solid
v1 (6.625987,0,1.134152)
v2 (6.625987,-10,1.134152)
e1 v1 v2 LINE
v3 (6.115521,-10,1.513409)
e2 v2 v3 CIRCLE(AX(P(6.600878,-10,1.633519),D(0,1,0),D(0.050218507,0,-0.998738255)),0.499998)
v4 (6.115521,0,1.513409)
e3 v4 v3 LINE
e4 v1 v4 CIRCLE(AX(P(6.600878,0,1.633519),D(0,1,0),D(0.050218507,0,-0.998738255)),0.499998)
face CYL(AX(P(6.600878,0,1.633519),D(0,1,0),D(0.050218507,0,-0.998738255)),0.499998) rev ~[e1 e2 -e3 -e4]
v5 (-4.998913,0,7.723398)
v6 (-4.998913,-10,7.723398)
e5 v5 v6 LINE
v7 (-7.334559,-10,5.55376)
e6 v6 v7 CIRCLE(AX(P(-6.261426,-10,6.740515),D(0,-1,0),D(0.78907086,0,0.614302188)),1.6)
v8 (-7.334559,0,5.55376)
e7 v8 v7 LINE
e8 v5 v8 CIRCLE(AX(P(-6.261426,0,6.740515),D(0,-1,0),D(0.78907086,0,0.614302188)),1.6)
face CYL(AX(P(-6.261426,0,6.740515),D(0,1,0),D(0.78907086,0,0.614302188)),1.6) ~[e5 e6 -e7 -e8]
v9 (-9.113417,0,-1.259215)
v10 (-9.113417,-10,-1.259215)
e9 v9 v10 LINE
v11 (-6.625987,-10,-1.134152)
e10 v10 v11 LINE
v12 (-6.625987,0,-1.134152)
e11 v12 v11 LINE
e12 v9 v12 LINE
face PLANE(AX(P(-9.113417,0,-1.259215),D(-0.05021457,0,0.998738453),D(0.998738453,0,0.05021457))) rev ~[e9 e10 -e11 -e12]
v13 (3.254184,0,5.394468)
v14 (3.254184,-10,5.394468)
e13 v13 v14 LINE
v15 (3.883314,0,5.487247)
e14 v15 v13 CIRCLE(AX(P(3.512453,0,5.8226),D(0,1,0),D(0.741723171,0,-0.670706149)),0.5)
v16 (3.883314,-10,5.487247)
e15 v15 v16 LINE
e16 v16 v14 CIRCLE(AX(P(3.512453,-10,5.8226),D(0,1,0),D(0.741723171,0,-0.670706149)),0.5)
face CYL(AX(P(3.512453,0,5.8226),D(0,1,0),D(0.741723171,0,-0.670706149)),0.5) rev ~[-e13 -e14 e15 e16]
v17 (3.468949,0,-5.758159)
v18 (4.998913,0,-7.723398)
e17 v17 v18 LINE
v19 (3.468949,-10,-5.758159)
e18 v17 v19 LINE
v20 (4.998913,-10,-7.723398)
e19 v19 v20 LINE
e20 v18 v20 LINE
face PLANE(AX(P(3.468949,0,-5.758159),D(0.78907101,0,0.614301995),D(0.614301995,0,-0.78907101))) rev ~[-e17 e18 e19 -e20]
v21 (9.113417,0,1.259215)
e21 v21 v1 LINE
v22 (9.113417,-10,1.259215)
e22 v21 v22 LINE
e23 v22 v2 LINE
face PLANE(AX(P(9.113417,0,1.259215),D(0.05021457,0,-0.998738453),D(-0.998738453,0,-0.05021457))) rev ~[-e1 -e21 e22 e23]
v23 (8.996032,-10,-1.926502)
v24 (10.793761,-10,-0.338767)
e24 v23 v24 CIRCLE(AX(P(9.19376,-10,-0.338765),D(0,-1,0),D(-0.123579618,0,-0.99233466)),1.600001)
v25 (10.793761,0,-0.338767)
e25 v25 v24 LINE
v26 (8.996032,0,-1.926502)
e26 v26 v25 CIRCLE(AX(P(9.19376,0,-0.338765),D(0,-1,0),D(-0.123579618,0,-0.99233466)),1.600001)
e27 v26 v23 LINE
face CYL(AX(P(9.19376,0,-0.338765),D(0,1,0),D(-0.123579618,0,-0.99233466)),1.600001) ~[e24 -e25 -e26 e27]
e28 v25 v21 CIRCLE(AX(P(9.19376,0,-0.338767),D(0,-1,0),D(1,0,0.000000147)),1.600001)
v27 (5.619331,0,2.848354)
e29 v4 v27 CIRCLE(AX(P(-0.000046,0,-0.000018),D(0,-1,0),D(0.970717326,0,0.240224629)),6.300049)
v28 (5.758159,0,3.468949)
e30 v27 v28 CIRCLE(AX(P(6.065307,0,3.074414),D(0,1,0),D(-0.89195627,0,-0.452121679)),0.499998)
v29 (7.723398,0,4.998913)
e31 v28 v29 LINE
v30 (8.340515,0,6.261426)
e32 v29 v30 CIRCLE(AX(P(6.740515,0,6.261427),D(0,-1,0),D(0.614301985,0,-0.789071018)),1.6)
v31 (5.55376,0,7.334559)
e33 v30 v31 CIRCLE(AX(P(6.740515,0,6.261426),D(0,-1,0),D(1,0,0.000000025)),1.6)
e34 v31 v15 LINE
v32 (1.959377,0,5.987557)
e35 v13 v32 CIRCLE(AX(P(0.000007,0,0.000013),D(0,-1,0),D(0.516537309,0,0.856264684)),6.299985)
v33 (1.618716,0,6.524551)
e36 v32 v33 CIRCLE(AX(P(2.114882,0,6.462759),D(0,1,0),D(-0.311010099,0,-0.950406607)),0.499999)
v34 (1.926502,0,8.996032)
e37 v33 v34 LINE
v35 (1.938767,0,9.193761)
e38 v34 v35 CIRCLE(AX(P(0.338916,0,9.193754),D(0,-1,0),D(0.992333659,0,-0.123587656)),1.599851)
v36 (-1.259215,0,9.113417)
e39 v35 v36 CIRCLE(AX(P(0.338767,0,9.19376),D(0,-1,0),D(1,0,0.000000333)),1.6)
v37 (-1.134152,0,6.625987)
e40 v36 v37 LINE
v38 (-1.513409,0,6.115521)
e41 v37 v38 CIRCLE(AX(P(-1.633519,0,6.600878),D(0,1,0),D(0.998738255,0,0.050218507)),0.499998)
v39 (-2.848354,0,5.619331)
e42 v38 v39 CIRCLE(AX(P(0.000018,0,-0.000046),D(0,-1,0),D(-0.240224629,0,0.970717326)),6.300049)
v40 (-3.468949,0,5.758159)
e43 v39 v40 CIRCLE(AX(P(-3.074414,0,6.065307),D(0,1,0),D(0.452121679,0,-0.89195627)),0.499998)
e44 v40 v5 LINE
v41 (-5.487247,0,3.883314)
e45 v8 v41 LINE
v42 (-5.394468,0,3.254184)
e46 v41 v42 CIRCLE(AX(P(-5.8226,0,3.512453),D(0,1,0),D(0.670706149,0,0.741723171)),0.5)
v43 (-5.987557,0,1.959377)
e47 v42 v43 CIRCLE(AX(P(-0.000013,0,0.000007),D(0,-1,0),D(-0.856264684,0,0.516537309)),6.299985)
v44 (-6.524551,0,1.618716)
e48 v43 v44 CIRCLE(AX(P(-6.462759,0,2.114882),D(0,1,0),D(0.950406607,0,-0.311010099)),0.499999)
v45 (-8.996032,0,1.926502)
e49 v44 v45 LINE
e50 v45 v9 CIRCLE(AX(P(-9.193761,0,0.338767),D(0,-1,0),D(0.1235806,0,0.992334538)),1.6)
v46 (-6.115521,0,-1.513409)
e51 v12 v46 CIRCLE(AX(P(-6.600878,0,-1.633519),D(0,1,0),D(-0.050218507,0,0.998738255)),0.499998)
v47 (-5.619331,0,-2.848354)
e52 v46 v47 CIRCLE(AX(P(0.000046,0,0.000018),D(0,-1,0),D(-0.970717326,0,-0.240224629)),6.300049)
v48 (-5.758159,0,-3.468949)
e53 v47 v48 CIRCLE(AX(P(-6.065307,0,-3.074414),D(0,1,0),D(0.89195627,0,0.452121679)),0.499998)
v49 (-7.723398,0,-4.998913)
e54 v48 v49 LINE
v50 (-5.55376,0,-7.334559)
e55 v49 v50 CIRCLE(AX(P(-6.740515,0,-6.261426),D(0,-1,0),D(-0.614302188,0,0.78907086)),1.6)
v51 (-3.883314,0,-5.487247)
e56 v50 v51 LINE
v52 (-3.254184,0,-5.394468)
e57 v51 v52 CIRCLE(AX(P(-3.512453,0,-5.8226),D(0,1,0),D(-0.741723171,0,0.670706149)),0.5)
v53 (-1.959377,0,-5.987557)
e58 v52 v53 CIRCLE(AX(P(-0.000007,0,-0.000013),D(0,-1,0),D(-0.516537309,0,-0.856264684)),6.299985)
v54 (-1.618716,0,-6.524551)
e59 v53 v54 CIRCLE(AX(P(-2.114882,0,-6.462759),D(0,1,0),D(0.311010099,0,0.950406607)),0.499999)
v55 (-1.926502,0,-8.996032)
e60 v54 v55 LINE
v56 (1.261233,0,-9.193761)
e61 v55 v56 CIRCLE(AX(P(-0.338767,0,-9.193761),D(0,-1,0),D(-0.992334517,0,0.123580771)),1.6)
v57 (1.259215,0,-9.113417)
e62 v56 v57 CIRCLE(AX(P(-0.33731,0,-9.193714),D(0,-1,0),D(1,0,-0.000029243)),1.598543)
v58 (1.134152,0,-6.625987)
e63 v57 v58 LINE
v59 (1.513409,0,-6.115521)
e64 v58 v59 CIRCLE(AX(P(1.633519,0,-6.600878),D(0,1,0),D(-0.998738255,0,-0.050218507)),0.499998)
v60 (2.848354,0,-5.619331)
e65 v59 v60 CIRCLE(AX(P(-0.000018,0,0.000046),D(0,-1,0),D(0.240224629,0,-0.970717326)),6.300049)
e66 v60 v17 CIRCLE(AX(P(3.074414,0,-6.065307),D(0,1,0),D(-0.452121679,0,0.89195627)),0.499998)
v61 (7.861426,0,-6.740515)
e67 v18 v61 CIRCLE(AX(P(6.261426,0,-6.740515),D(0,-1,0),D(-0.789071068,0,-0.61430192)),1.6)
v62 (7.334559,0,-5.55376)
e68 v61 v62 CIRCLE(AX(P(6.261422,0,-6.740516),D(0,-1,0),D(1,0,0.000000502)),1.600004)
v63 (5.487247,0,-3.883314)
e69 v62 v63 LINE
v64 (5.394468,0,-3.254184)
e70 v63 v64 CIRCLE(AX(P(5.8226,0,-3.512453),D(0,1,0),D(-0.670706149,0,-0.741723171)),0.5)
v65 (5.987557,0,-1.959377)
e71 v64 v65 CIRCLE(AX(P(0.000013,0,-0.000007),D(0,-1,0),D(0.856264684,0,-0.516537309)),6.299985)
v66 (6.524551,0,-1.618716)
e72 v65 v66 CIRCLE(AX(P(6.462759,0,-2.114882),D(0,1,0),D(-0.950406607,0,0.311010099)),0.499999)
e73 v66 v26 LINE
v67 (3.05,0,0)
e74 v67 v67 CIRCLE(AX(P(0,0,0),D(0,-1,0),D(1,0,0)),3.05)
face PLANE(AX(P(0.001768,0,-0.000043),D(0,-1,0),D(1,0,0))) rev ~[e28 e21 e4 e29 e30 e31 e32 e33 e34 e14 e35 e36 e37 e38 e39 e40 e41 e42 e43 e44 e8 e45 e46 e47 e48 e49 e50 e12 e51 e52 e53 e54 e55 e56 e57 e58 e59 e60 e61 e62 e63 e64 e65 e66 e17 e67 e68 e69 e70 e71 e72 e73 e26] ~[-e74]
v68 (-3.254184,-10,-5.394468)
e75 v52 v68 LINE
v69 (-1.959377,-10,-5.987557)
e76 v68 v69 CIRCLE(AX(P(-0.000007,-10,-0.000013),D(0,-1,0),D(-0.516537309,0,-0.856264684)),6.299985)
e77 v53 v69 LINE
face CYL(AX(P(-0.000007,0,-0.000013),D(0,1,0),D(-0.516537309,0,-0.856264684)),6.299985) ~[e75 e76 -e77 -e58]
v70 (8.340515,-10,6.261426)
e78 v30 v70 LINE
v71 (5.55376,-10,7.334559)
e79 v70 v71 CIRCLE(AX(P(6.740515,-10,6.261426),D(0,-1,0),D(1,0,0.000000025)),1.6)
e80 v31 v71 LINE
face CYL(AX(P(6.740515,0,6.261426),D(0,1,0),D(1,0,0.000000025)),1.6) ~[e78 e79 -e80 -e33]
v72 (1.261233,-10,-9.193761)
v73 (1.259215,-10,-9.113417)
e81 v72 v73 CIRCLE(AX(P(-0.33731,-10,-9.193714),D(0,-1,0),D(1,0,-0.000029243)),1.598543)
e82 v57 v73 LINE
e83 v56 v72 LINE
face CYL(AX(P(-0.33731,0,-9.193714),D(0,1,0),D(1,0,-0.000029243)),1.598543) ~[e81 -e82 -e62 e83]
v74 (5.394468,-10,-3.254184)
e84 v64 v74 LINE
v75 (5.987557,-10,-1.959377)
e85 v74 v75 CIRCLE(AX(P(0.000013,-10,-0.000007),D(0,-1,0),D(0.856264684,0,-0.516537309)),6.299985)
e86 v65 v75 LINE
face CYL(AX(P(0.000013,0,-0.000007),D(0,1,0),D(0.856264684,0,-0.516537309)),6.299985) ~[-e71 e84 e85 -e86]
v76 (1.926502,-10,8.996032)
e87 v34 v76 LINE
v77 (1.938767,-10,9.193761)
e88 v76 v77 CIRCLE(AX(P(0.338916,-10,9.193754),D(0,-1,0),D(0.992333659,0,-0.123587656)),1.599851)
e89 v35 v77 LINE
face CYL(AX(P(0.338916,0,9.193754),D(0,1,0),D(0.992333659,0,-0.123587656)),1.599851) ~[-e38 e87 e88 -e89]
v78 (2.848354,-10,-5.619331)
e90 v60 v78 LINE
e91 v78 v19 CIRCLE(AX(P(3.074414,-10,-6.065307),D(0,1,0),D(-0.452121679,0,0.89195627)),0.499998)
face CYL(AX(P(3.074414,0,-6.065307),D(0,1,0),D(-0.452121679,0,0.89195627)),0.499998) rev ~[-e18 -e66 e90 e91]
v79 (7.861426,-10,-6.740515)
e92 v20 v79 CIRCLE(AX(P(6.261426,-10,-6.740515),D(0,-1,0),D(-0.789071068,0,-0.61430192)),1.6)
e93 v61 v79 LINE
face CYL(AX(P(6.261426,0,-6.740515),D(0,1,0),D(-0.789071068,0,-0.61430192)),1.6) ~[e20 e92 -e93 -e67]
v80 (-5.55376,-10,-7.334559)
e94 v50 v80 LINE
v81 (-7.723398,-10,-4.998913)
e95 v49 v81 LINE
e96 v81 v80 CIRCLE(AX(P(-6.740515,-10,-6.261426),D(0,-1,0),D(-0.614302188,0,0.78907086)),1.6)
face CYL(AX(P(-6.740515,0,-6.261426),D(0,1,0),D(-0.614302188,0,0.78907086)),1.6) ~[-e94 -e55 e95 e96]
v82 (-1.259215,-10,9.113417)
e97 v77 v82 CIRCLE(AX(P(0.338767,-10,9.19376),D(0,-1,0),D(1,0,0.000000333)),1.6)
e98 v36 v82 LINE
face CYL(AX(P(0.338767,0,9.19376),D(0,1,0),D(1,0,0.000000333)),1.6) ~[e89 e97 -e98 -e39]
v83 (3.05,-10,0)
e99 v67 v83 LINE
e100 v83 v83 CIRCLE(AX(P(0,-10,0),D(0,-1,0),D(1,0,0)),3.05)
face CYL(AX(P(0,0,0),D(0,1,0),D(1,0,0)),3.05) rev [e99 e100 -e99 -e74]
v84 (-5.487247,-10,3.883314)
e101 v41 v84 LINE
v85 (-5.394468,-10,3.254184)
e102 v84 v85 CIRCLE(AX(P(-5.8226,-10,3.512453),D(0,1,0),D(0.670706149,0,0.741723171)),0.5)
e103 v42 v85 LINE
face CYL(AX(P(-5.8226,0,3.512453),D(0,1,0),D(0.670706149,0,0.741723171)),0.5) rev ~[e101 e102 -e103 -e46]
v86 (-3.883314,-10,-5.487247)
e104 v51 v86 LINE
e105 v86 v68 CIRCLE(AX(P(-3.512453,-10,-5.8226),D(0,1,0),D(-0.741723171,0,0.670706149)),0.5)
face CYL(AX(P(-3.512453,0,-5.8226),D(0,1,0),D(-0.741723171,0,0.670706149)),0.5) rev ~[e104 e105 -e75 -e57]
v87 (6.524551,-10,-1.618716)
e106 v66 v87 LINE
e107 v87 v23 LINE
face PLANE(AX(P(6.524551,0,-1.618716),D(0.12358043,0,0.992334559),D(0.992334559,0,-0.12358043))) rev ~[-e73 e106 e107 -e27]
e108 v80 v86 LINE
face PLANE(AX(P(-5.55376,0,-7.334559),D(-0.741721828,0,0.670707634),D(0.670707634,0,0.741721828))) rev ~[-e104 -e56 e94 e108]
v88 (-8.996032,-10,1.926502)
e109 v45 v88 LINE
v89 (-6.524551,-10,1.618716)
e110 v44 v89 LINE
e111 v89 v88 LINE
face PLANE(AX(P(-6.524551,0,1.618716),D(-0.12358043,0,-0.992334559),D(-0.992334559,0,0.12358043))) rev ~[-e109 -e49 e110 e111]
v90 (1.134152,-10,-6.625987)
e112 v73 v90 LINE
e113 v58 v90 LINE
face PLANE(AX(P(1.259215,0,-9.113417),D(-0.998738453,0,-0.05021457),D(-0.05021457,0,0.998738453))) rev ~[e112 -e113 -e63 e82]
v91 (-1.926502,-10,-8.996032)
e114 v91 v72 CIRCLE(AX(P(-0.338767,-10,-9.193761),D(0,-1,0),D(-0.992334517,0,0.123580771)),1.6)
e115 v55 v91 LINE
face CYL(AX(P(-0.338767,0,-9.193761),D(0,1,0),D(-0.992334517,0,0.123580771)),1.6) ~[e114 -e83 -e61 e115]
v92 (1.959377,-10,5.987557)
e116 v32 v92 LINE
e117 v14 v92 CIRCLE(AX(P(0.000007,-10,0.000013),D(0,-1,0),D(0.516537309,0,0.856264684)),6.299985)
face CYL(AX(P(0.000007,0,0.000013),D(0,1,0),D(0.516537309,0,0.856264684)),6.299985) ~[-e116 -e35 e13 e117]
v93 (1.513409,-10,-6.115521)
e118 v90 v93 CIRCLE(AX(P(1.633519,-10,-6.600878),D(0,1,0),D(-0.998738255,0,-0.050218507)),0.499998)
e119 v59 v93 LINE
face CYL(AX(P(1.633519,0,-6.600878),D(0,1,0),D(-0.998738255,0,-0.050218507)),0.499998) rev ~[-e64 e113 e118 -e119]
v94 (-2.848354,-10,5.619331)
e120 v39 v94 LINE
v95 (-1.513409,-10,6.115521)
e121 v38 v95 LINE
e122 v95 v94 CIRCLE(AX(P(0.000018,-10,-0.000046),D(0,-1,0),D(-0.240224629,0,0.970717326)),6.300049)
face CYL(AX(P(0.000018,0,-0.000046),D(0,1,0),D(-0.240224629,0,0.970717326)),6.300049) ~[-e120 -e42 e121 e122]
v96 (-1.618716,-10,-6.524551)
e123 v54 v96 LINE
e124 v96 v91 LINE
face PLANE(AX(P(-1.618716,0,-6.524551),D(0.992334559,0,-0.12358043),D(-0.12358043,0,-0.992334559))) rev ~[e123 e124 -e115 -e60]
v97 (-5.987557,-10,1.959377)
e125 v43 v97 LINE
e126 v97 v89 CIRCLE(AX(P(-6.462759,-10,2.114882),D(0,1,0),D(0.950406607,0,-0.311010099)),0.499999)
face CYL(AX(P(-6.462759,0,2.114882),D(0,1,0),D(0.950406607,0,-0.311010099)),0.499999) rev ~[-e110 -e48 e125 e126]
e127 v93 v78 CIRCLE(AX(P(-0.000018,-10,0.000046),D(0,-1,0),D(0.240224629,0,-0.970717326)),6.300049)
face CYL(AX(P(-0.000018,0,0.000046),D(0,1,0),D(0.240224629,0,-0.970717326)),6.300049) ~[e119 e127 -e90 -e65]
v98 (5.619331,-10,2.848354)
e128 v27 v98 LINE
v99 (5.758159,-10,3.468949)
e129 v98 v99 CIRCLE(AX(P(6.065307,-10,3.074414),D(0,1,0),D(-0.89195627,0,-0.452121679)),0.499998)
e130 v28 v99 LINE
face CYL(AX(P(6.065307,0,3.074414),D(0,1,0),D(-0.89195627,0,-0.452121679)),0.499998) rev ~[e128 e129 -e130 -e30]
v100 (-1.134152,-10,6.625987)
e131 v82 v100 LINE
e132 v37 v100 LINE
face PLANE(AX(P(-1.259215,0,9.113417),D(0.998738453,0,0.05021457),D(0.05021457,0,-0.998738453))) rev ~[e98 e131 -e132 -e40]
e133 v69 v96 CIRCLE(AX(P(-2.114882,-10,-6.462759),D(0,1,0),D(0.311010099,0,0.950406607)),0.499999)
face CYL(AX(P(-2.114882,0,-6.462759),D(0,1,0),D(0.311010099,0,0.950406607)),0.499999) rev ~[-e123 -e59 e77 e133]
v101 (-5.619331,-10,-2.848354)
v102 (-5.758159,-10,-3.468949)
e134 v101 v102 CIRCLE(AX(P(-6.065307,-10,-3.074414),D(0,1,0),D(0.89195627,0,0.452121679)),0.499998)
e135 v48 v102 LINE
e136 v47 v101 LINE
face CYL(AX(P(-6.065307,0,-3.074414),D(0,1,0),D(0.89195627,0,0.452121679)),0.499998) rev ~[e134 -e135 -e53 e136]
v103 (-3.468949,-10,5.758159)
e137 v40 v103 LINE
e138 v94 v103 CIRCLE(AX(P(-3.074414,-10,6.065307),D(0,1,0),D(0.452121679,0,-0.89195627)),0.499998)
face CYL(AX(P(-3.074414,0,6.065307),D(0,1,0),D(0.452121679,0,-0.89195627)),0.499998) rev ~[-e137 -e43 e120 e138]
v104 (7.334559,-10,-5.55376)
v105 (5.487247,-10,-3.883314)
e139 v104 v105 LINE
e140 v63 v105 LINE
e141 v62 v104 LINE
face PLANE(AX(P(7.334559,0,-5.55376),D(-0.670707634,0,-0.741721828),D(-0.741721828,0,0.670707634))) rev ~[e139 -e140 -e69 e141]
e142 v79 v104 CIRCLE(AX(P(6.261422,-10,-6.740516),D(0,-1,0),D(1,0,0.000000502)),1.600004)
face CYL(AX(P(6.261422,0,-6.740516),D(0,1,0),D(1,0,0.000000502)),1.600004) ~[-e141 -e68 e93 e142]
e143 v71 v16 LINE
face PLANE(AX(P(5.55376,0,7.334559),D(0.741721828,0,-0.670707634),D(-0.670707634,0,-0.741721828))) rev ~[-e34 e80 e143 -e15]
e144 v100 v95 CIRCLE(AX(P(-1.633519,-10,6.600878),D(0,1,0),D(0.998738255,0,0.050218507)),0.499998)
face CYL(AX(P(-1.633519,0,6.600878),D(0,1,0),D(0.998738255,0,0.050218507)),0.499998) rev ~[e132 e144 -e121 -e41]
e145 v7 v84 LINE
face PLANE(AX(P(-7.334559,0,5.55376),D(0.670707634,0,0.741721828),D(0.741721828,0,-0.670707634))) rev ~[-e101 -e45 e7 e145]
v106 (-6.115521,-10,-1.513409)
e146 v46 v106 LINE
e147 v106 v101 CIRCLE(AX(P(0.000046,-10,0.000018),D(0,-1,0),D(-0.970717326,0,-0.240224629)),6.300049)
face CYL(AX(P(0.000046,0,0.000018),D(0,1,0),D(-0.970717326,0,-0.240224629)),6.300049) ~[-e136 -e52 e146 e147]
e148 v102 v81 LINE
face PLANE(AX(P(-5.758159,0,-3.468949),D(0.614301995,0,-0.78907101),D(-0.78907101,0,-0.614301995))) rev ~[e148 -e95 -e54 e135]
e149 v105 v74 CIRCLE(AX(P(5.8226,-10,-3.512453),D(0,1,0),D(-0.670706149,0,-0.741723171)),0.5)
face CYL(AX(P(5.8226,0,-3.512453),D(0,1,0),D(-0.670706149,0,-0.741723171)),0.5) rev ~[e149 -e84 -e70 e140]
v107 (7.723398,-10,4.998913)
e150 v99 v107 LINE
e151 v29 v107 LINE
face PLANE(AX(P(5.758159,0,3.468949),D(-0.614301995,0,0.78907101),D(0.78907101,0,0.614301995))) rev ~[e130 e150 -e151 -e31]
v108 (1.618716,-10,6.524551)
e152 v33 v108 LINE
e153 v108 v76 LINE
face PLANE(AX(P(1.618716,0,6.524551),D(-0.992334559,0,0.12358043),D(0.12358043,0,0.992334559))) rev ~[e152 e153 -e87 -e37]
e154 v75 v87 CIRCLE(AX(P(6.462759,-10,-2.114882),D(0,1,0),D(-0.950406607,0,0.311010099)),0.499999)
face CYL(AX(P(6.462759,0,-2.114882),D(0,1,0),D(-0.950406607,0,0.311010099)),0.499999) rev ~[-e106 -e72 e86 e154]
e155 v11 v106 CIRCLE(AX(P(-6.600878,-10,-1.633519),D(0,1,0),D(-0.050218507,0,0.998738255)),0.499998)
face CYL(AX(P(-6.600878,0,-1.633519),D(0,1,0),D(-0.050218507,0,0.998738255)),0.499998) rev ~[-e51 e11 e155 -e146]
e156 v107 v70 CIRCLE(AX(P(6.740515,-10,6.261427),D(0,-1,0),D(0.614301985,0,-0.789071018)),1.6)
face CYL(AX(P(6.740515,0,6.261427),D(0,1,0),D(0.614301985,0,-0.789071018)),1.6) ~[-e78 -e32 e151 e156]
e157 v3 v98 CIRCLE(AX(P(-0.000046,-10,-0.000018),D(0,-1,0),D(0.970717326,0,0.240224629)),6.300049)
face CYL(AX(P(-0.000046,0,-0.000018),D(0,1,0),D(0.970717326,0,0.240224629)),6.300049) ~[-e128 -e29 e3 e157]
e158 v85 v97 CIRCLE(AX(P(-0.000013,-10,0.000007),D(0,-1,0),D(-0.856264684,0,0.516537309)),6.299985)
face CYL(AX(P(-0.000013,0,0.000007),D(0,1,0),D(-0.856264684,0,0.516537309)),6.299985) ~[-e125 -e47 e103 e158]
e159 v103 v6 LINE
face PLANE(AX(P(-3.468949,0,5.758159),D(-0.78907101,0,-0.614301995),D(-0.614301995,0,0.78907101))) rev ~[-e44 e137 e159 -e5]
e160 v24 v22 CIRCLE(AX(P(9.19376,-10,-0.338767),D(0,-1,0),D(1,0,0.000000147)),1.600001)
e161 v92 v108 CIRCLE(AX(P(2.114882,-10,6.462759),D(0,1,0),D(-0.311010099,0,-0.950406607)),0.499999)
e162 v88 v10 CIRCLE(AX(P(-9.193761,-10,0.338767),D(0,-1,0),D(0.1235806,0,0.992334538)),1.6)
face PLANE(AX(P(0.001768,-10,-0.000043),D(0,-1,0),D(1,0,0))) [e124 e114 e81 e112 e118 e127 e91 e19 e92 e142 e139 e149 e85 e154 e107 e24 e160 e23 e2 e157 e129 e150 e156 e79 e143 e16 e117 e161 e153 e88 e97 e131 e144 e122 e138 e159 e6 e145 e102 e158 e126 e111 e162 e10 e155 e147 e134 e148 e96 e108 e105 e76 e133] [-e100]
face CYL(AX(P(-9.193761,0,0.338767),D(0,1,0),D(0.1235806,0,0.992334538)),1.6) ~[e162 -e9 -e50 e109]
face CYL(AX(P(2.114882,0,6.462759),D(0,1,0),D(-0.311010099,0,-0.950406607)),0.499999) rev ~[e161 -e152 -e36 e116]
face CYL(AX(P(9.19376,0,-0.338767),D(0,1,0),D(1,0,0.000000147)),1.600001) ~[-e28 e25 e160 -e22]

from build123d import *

# Parameters (mm, degrees)
F0_R     = 3.05
F1_DEPTH = 10


with BuildPart() as f1:
    # F0 (on Front) → F1 (new body)
    with BuildSketch(Plane.XZ):
        with BuildLine():
            ThreePointArc((5.987557, -1.959377), (6.221399, -0.992066), (6.3, 0))
            ThreePointArc((6.3, 0), (6.25371, 0.762306), (6.115521, 1.513409))
            ThreePointArc((6.115521, 1.513409), (5.905269, 2.194948), (5.619331, 2.848354))
            ThreePointArc((5.619331, 2.848354), (4.615787, 4.287716), (3.254184, 5.394468))
            ThreePointArc((3.254184, 5.394468), (2.623594, 5.727718), (1.959377, 5.987557))
            ThreePointArc((1.959377, 5.987557), (0.231982, 6.295727), (-1.513409, 6.115521))
            ThreePointArc((-1.513409, 6.115521), (-2.194948, 5.905269), (-2.848354, 5.619331))
            ThreePointArc((-2.848354, 5.619331), (-4.287716, 4.615787), (-5.394468, 3.254184))
            ThreePointArc((-5.394468, 3.254184), (-5.727718, 2.623594), (-5.987557, 1.959377))
            ThreePointArc((-5.987557, 1.959377), (-6.295727, 0.231982), (-6.115521, -1.513409))
            ThreePointArc((-6.115521, -1.513409), (-5.905269, -2.194948), (-5.619331, -2.848354))
            ThreePointArc((-5.619331, -2.848354), (-4.615787, -4.287716), (-3.254184, -5.394468))
            ThreePointArc((-3.254184, -5.394468), (-2.623594, -5.727718), (-1.959377, -5.987557))
            ThreePointArc((-1.959377, -5.987557), (-0.231982, -6.295727), (1.513409, -6.115521))
            ThreePointArc((1.513409, -6.115521), (2.194948, -5.905269), (2.848354, -5.619331))
            ThreePointArc((2.848354, -5.619331), (4.287716, -4.615787), (5.394468, -3.254184))
            ThreePointArc((5.394468, -3.254184), (5.727718, -2.623594), (5.987557, -1.959377))
        make_face()
        Circle(F0_R, mode=Mode.SUBTRACT)
        with BuildLine():
            ThreePointArc((6.115521, 1.513409), (6.25371, 0.762306), (6.3, 0))
            ThreePointArc((6.3, 0), (6.221399, -0.992066), (5.987557, -1.959377))
            ThreePointArc((5.987557, -1.959377), (6.194917, -1.692674), (6.524551, -1.618716))
            Line((6.524551, -1.618716), (8.996032, -1.926502))
            ThreePointArc((8.996032, -1.926502), (7.594846, -0.279851), (9.113417, 1.259215))
            Line((9.113417, 1.259215), (6.625987, 1.134152))
            ThreePointArc((6.625987, 1.134152), (6.30269, 1.232169), (6.115521, 1.513409))
        make_face()
        with BuildLine():
            ThreePointArc((3.254184, 5.394468), (4.615787, 4.287716), (5.619331, 2.848354))
            ThreePointArc((5.619331, 2.848354), (5.577369, 3.183566), (5.758159, 3.468949))
            Line((5.758159, 3.468949), (7.723398, 4.998913))
            ThreePointArc((7.723398, 4.998913), (5.568251, 5.172483), (5.55376, 7.334559))
            Line((5.55376, 7.334559), (3.883314, 5.487247))
            ThreePointArc((3.883314, 5.487247), (3.585399, 5.32795), (3.254184, 5.394468))
        make_face()
        with BuildLine():
            ThreePointArc((5.487247, -3.883314), (5.32795, -3.585399), (5.394468, -3.254184))
            ThreePointArc((5.394468, -3.254184), (4.287716, -4.615787), (2.848354, -5.619331))
            ThreePointArc((2.848354, -5.619331), (3.183566, -5.577369), (3.468949, -5.758159))
            Line((3.468949, -5.758159), (4.998913, -7.723398))
            ThreePointArc((4.998913, -7.723398), (5.172483, -5.568251), (7.334559, -5.55376))
            Line((7.334559, -5.55376), (5.487247, -3.883314))
        make_face()
        with BuildLine():
            ThreePointArc((10.793761, -0.338767), (10.29636, 0.820662), (9.113417, 1.259215))
            ThreePointArc((9.113417, 1.259215), (7.594846, -0.279851), (8.996032, -1.926502))
            ThreePointArc((8.996032, -1.926502), (10.252919, -1.538009), (10.793761, -0.338767))
        make_face()
        with BuildLine():
            ThreePointArc((-1.513409, 6.115521), (0.231982, 6.295727), (1.959377, 5.987557))
            ThreePointArc((1.959377, 5.987557), (1.692674, 6.194917), (1.618716, 6.524551))
            Line((1.618716, 6.524551), (1.926502, 8.996032))
            ThreePointArc((1.926502, 8.996032), (0.279851, 7.594846), (-1.259215, 9.113417))
            Line((-1.259215, 9.113417), (-1.134152, 6.625987))
            ThreePointArc((-1.134152, 6.625987), (-1.232169, 6.30269), (-1.513409, 6.115521))
        make_face()
        with BuildLine():
            ThreePointArc((5.55376, 7.334559), (5.568251, 5.172483), (7.723398, 4.998913))
            ThreePointArc((7.723398, 4.998913), (8.17798, 5.558793), (8.340515, 6.261426))
            ThreePointArc((8.340515, 6.261426), (7.31549, 7.754545), (5.55376, 7.334559))
        make_face()
        with BuildLine():
            ThreePointArc((1.134152, -6.625987), (1.232169, -6.30269), (1.513409, -6.115521))
            ThreePointArc((1.513409, -6.115521), (-0.231982, -6.295727), (-1.959377, -5.987557))
            ThreePointArc((-1.959377, -5.987557), (-1.692674, -6.194917), (-1.618716, -6.524551))
            Line((-1.618716, -6.524551), (-1.926502, -8.996032))
            ThreePointArc((-1.926502, -8.996032), (-0.279851, -7.594846), (1.259215, -9.113417))
            Line((1.259215, -9.113417), (1.134152, -6.625987))
        make_face()
        with BuildLine():
            ThreePointArc((7.861426, -6.740515), (7.723789, -6.091289), (7.334559, -5.55376))
            ThreePointArc((7.334559, -5.55376), (5.172483, -5.568251), (4.998913, -7.723398))
            ThreePointArc((4.998913, -7.723398), (6.781031, -8.253793), (7.861426, -6.740515))
        make_face()
        with BuildLine():
            ThreePointArc((-5.394468, 3.254184), (-4.287716, 4.615787), (-2.848354, 5.619331))
            ThreePointArc((-2.848354, 5.619331), (-3.183566, 5.577369), (-3.468949, 5.758159))
            Line((-3.468949, 5.758159), (-4.998913, 7.723398))
            ThreePointArc((-4.998913, 7.723398), (-4.748148, 7.260119), (-4.661426, 6.740515))
            ThreePointArc((-4.661426, 6.740515), (-5.612201, 5.278152), (-7.334559, 5.55376))
            Line((-7.334559, 5.55376), (-5.487247, 3.883314))
            ThreePointArc((-5.487247, 3.883314), (-5.32795, 3.585399), (-5.394468, 3.254184))
        make_face()
        with BuildLine():
            ThreePointArc((-1.259215, 9.113417), (0.279851, 7.594846), (1.926502, 8.996032))
            ThreePointArc((1.926502, 8.996032), (1.935698, 9.094706), (1.938767, 9.193761))
            ThreePointArc((1.938767, 9.193761), (0.298582, 10.793256), (-1.259215, 9.113417))
        make_face()
        with BuildLine():
            ThreePointArc((-3.883314, -5.487247), (-3.585399, -5.32795), (-3.254184, -5.394468))
            ThreePointArc((-3.254184, -5.394468), (-4.615787, -4.287716), (-5.619331, -2.848354))
            ThreePointArc((-5.619331, -2.848354), (-5.577369, -3.183566), (-5.758159, -3.468949))
            Line((-5.758159, -3.468949), (-7.723398, -4.998913))
            ThreePointArc((-7.723398, -4.998913), (-6.037881, -4.823961), (-5.140515, -6.261426))
            ThreePointArc((-5.140515, -6.261426), (-5.247396, -6.836401), (-5.55376, -7.334559))
            Line((-5.55376, -7.334559), (-3.883314, -5.487247))
        make_face()
        with BuildLine():
            ThreePointArc((1.261233, -9.193761), (1.260729, -9.153576), (1.259215, -9.113417))
            ThreePointArc((1.259215, -9.113417), (-0.279851, -7.594846), (-1.926502, -8.996032))
            ThreePointArc((-1.926502, -8.996032), (-0.437821, -10.790692), (1.261233, -9.193761))
        make_face()
        with BuildLine():
            ThreePointArc((-6.115521, -1.513409), (-6.295727, 0.231982), (-5.987557, 1.959377))
            ThreePointArc((-5.987557, 1.959377), (-6.194917, 1.692674), (-6.524551, 1.618716))
            Line((-6.524551, 1.618716), (-8.996032, 1.926502))
            ThreePointArc((-8.996032, 1.926502), (-7.994518, 1.397925), (-7.593761, 0.338767))
            ThreePointArc((-7.593761, 0.338767), (-8.034332, -0.763833), (-9.113417, -1.259215))
            Line((-9.113417, -1.259215), (-6.625987, -1.134152))
            ThreePointArc((-6.625987, -1.134152), (-6.30269, -1.232169), (-6.115521, -1.513409))
        make_face()
        with BuildLine():
            ThreePointArc((-4.661426, 6.740515), (-4.748148, 7.260119), (-4.998913, 7.723398))
            ThreePointArc((-4.998913, 7.723398), (-7.35037, 7.912778), (-7.334559, 5.55376))
            ThreePointArc((-7.334559, 5.55376), (-5.612201, 5.278152), (-4.661426, 6.740515))
        make_face()
        with BuildLine():
            ThreePointArc((-7.723398, -4.998913), (-7.912778, -7.35037), (-5.55376, -7.334559))
            ThreePointArc((-5.55376, -7.334559), (-5.247396, -6.836401), (-5.140515, -6.261426))
            ThreePointArc((-5.140515, -6.261426), (-6.037881, -4.823961), (-7.723398, -4.998913))
        make_face()
        with BuildLine():
            ThreePointArc((-7.593761, 0.338767), (-7.994518, 1.397925), (-8.996032, 1.926502))
            ThreePointArc((-8.996032, 1.926502), (-10.792676, 0.397683), (-9.113417, -1.259215))
            ThreePointArc((-9.113417, -1.259215), (-8.034332, -0.763833), (-7.593761, 0.338767))
        make_face()
    extrude(amount=F1_DEPTH)


solid = f1.part
